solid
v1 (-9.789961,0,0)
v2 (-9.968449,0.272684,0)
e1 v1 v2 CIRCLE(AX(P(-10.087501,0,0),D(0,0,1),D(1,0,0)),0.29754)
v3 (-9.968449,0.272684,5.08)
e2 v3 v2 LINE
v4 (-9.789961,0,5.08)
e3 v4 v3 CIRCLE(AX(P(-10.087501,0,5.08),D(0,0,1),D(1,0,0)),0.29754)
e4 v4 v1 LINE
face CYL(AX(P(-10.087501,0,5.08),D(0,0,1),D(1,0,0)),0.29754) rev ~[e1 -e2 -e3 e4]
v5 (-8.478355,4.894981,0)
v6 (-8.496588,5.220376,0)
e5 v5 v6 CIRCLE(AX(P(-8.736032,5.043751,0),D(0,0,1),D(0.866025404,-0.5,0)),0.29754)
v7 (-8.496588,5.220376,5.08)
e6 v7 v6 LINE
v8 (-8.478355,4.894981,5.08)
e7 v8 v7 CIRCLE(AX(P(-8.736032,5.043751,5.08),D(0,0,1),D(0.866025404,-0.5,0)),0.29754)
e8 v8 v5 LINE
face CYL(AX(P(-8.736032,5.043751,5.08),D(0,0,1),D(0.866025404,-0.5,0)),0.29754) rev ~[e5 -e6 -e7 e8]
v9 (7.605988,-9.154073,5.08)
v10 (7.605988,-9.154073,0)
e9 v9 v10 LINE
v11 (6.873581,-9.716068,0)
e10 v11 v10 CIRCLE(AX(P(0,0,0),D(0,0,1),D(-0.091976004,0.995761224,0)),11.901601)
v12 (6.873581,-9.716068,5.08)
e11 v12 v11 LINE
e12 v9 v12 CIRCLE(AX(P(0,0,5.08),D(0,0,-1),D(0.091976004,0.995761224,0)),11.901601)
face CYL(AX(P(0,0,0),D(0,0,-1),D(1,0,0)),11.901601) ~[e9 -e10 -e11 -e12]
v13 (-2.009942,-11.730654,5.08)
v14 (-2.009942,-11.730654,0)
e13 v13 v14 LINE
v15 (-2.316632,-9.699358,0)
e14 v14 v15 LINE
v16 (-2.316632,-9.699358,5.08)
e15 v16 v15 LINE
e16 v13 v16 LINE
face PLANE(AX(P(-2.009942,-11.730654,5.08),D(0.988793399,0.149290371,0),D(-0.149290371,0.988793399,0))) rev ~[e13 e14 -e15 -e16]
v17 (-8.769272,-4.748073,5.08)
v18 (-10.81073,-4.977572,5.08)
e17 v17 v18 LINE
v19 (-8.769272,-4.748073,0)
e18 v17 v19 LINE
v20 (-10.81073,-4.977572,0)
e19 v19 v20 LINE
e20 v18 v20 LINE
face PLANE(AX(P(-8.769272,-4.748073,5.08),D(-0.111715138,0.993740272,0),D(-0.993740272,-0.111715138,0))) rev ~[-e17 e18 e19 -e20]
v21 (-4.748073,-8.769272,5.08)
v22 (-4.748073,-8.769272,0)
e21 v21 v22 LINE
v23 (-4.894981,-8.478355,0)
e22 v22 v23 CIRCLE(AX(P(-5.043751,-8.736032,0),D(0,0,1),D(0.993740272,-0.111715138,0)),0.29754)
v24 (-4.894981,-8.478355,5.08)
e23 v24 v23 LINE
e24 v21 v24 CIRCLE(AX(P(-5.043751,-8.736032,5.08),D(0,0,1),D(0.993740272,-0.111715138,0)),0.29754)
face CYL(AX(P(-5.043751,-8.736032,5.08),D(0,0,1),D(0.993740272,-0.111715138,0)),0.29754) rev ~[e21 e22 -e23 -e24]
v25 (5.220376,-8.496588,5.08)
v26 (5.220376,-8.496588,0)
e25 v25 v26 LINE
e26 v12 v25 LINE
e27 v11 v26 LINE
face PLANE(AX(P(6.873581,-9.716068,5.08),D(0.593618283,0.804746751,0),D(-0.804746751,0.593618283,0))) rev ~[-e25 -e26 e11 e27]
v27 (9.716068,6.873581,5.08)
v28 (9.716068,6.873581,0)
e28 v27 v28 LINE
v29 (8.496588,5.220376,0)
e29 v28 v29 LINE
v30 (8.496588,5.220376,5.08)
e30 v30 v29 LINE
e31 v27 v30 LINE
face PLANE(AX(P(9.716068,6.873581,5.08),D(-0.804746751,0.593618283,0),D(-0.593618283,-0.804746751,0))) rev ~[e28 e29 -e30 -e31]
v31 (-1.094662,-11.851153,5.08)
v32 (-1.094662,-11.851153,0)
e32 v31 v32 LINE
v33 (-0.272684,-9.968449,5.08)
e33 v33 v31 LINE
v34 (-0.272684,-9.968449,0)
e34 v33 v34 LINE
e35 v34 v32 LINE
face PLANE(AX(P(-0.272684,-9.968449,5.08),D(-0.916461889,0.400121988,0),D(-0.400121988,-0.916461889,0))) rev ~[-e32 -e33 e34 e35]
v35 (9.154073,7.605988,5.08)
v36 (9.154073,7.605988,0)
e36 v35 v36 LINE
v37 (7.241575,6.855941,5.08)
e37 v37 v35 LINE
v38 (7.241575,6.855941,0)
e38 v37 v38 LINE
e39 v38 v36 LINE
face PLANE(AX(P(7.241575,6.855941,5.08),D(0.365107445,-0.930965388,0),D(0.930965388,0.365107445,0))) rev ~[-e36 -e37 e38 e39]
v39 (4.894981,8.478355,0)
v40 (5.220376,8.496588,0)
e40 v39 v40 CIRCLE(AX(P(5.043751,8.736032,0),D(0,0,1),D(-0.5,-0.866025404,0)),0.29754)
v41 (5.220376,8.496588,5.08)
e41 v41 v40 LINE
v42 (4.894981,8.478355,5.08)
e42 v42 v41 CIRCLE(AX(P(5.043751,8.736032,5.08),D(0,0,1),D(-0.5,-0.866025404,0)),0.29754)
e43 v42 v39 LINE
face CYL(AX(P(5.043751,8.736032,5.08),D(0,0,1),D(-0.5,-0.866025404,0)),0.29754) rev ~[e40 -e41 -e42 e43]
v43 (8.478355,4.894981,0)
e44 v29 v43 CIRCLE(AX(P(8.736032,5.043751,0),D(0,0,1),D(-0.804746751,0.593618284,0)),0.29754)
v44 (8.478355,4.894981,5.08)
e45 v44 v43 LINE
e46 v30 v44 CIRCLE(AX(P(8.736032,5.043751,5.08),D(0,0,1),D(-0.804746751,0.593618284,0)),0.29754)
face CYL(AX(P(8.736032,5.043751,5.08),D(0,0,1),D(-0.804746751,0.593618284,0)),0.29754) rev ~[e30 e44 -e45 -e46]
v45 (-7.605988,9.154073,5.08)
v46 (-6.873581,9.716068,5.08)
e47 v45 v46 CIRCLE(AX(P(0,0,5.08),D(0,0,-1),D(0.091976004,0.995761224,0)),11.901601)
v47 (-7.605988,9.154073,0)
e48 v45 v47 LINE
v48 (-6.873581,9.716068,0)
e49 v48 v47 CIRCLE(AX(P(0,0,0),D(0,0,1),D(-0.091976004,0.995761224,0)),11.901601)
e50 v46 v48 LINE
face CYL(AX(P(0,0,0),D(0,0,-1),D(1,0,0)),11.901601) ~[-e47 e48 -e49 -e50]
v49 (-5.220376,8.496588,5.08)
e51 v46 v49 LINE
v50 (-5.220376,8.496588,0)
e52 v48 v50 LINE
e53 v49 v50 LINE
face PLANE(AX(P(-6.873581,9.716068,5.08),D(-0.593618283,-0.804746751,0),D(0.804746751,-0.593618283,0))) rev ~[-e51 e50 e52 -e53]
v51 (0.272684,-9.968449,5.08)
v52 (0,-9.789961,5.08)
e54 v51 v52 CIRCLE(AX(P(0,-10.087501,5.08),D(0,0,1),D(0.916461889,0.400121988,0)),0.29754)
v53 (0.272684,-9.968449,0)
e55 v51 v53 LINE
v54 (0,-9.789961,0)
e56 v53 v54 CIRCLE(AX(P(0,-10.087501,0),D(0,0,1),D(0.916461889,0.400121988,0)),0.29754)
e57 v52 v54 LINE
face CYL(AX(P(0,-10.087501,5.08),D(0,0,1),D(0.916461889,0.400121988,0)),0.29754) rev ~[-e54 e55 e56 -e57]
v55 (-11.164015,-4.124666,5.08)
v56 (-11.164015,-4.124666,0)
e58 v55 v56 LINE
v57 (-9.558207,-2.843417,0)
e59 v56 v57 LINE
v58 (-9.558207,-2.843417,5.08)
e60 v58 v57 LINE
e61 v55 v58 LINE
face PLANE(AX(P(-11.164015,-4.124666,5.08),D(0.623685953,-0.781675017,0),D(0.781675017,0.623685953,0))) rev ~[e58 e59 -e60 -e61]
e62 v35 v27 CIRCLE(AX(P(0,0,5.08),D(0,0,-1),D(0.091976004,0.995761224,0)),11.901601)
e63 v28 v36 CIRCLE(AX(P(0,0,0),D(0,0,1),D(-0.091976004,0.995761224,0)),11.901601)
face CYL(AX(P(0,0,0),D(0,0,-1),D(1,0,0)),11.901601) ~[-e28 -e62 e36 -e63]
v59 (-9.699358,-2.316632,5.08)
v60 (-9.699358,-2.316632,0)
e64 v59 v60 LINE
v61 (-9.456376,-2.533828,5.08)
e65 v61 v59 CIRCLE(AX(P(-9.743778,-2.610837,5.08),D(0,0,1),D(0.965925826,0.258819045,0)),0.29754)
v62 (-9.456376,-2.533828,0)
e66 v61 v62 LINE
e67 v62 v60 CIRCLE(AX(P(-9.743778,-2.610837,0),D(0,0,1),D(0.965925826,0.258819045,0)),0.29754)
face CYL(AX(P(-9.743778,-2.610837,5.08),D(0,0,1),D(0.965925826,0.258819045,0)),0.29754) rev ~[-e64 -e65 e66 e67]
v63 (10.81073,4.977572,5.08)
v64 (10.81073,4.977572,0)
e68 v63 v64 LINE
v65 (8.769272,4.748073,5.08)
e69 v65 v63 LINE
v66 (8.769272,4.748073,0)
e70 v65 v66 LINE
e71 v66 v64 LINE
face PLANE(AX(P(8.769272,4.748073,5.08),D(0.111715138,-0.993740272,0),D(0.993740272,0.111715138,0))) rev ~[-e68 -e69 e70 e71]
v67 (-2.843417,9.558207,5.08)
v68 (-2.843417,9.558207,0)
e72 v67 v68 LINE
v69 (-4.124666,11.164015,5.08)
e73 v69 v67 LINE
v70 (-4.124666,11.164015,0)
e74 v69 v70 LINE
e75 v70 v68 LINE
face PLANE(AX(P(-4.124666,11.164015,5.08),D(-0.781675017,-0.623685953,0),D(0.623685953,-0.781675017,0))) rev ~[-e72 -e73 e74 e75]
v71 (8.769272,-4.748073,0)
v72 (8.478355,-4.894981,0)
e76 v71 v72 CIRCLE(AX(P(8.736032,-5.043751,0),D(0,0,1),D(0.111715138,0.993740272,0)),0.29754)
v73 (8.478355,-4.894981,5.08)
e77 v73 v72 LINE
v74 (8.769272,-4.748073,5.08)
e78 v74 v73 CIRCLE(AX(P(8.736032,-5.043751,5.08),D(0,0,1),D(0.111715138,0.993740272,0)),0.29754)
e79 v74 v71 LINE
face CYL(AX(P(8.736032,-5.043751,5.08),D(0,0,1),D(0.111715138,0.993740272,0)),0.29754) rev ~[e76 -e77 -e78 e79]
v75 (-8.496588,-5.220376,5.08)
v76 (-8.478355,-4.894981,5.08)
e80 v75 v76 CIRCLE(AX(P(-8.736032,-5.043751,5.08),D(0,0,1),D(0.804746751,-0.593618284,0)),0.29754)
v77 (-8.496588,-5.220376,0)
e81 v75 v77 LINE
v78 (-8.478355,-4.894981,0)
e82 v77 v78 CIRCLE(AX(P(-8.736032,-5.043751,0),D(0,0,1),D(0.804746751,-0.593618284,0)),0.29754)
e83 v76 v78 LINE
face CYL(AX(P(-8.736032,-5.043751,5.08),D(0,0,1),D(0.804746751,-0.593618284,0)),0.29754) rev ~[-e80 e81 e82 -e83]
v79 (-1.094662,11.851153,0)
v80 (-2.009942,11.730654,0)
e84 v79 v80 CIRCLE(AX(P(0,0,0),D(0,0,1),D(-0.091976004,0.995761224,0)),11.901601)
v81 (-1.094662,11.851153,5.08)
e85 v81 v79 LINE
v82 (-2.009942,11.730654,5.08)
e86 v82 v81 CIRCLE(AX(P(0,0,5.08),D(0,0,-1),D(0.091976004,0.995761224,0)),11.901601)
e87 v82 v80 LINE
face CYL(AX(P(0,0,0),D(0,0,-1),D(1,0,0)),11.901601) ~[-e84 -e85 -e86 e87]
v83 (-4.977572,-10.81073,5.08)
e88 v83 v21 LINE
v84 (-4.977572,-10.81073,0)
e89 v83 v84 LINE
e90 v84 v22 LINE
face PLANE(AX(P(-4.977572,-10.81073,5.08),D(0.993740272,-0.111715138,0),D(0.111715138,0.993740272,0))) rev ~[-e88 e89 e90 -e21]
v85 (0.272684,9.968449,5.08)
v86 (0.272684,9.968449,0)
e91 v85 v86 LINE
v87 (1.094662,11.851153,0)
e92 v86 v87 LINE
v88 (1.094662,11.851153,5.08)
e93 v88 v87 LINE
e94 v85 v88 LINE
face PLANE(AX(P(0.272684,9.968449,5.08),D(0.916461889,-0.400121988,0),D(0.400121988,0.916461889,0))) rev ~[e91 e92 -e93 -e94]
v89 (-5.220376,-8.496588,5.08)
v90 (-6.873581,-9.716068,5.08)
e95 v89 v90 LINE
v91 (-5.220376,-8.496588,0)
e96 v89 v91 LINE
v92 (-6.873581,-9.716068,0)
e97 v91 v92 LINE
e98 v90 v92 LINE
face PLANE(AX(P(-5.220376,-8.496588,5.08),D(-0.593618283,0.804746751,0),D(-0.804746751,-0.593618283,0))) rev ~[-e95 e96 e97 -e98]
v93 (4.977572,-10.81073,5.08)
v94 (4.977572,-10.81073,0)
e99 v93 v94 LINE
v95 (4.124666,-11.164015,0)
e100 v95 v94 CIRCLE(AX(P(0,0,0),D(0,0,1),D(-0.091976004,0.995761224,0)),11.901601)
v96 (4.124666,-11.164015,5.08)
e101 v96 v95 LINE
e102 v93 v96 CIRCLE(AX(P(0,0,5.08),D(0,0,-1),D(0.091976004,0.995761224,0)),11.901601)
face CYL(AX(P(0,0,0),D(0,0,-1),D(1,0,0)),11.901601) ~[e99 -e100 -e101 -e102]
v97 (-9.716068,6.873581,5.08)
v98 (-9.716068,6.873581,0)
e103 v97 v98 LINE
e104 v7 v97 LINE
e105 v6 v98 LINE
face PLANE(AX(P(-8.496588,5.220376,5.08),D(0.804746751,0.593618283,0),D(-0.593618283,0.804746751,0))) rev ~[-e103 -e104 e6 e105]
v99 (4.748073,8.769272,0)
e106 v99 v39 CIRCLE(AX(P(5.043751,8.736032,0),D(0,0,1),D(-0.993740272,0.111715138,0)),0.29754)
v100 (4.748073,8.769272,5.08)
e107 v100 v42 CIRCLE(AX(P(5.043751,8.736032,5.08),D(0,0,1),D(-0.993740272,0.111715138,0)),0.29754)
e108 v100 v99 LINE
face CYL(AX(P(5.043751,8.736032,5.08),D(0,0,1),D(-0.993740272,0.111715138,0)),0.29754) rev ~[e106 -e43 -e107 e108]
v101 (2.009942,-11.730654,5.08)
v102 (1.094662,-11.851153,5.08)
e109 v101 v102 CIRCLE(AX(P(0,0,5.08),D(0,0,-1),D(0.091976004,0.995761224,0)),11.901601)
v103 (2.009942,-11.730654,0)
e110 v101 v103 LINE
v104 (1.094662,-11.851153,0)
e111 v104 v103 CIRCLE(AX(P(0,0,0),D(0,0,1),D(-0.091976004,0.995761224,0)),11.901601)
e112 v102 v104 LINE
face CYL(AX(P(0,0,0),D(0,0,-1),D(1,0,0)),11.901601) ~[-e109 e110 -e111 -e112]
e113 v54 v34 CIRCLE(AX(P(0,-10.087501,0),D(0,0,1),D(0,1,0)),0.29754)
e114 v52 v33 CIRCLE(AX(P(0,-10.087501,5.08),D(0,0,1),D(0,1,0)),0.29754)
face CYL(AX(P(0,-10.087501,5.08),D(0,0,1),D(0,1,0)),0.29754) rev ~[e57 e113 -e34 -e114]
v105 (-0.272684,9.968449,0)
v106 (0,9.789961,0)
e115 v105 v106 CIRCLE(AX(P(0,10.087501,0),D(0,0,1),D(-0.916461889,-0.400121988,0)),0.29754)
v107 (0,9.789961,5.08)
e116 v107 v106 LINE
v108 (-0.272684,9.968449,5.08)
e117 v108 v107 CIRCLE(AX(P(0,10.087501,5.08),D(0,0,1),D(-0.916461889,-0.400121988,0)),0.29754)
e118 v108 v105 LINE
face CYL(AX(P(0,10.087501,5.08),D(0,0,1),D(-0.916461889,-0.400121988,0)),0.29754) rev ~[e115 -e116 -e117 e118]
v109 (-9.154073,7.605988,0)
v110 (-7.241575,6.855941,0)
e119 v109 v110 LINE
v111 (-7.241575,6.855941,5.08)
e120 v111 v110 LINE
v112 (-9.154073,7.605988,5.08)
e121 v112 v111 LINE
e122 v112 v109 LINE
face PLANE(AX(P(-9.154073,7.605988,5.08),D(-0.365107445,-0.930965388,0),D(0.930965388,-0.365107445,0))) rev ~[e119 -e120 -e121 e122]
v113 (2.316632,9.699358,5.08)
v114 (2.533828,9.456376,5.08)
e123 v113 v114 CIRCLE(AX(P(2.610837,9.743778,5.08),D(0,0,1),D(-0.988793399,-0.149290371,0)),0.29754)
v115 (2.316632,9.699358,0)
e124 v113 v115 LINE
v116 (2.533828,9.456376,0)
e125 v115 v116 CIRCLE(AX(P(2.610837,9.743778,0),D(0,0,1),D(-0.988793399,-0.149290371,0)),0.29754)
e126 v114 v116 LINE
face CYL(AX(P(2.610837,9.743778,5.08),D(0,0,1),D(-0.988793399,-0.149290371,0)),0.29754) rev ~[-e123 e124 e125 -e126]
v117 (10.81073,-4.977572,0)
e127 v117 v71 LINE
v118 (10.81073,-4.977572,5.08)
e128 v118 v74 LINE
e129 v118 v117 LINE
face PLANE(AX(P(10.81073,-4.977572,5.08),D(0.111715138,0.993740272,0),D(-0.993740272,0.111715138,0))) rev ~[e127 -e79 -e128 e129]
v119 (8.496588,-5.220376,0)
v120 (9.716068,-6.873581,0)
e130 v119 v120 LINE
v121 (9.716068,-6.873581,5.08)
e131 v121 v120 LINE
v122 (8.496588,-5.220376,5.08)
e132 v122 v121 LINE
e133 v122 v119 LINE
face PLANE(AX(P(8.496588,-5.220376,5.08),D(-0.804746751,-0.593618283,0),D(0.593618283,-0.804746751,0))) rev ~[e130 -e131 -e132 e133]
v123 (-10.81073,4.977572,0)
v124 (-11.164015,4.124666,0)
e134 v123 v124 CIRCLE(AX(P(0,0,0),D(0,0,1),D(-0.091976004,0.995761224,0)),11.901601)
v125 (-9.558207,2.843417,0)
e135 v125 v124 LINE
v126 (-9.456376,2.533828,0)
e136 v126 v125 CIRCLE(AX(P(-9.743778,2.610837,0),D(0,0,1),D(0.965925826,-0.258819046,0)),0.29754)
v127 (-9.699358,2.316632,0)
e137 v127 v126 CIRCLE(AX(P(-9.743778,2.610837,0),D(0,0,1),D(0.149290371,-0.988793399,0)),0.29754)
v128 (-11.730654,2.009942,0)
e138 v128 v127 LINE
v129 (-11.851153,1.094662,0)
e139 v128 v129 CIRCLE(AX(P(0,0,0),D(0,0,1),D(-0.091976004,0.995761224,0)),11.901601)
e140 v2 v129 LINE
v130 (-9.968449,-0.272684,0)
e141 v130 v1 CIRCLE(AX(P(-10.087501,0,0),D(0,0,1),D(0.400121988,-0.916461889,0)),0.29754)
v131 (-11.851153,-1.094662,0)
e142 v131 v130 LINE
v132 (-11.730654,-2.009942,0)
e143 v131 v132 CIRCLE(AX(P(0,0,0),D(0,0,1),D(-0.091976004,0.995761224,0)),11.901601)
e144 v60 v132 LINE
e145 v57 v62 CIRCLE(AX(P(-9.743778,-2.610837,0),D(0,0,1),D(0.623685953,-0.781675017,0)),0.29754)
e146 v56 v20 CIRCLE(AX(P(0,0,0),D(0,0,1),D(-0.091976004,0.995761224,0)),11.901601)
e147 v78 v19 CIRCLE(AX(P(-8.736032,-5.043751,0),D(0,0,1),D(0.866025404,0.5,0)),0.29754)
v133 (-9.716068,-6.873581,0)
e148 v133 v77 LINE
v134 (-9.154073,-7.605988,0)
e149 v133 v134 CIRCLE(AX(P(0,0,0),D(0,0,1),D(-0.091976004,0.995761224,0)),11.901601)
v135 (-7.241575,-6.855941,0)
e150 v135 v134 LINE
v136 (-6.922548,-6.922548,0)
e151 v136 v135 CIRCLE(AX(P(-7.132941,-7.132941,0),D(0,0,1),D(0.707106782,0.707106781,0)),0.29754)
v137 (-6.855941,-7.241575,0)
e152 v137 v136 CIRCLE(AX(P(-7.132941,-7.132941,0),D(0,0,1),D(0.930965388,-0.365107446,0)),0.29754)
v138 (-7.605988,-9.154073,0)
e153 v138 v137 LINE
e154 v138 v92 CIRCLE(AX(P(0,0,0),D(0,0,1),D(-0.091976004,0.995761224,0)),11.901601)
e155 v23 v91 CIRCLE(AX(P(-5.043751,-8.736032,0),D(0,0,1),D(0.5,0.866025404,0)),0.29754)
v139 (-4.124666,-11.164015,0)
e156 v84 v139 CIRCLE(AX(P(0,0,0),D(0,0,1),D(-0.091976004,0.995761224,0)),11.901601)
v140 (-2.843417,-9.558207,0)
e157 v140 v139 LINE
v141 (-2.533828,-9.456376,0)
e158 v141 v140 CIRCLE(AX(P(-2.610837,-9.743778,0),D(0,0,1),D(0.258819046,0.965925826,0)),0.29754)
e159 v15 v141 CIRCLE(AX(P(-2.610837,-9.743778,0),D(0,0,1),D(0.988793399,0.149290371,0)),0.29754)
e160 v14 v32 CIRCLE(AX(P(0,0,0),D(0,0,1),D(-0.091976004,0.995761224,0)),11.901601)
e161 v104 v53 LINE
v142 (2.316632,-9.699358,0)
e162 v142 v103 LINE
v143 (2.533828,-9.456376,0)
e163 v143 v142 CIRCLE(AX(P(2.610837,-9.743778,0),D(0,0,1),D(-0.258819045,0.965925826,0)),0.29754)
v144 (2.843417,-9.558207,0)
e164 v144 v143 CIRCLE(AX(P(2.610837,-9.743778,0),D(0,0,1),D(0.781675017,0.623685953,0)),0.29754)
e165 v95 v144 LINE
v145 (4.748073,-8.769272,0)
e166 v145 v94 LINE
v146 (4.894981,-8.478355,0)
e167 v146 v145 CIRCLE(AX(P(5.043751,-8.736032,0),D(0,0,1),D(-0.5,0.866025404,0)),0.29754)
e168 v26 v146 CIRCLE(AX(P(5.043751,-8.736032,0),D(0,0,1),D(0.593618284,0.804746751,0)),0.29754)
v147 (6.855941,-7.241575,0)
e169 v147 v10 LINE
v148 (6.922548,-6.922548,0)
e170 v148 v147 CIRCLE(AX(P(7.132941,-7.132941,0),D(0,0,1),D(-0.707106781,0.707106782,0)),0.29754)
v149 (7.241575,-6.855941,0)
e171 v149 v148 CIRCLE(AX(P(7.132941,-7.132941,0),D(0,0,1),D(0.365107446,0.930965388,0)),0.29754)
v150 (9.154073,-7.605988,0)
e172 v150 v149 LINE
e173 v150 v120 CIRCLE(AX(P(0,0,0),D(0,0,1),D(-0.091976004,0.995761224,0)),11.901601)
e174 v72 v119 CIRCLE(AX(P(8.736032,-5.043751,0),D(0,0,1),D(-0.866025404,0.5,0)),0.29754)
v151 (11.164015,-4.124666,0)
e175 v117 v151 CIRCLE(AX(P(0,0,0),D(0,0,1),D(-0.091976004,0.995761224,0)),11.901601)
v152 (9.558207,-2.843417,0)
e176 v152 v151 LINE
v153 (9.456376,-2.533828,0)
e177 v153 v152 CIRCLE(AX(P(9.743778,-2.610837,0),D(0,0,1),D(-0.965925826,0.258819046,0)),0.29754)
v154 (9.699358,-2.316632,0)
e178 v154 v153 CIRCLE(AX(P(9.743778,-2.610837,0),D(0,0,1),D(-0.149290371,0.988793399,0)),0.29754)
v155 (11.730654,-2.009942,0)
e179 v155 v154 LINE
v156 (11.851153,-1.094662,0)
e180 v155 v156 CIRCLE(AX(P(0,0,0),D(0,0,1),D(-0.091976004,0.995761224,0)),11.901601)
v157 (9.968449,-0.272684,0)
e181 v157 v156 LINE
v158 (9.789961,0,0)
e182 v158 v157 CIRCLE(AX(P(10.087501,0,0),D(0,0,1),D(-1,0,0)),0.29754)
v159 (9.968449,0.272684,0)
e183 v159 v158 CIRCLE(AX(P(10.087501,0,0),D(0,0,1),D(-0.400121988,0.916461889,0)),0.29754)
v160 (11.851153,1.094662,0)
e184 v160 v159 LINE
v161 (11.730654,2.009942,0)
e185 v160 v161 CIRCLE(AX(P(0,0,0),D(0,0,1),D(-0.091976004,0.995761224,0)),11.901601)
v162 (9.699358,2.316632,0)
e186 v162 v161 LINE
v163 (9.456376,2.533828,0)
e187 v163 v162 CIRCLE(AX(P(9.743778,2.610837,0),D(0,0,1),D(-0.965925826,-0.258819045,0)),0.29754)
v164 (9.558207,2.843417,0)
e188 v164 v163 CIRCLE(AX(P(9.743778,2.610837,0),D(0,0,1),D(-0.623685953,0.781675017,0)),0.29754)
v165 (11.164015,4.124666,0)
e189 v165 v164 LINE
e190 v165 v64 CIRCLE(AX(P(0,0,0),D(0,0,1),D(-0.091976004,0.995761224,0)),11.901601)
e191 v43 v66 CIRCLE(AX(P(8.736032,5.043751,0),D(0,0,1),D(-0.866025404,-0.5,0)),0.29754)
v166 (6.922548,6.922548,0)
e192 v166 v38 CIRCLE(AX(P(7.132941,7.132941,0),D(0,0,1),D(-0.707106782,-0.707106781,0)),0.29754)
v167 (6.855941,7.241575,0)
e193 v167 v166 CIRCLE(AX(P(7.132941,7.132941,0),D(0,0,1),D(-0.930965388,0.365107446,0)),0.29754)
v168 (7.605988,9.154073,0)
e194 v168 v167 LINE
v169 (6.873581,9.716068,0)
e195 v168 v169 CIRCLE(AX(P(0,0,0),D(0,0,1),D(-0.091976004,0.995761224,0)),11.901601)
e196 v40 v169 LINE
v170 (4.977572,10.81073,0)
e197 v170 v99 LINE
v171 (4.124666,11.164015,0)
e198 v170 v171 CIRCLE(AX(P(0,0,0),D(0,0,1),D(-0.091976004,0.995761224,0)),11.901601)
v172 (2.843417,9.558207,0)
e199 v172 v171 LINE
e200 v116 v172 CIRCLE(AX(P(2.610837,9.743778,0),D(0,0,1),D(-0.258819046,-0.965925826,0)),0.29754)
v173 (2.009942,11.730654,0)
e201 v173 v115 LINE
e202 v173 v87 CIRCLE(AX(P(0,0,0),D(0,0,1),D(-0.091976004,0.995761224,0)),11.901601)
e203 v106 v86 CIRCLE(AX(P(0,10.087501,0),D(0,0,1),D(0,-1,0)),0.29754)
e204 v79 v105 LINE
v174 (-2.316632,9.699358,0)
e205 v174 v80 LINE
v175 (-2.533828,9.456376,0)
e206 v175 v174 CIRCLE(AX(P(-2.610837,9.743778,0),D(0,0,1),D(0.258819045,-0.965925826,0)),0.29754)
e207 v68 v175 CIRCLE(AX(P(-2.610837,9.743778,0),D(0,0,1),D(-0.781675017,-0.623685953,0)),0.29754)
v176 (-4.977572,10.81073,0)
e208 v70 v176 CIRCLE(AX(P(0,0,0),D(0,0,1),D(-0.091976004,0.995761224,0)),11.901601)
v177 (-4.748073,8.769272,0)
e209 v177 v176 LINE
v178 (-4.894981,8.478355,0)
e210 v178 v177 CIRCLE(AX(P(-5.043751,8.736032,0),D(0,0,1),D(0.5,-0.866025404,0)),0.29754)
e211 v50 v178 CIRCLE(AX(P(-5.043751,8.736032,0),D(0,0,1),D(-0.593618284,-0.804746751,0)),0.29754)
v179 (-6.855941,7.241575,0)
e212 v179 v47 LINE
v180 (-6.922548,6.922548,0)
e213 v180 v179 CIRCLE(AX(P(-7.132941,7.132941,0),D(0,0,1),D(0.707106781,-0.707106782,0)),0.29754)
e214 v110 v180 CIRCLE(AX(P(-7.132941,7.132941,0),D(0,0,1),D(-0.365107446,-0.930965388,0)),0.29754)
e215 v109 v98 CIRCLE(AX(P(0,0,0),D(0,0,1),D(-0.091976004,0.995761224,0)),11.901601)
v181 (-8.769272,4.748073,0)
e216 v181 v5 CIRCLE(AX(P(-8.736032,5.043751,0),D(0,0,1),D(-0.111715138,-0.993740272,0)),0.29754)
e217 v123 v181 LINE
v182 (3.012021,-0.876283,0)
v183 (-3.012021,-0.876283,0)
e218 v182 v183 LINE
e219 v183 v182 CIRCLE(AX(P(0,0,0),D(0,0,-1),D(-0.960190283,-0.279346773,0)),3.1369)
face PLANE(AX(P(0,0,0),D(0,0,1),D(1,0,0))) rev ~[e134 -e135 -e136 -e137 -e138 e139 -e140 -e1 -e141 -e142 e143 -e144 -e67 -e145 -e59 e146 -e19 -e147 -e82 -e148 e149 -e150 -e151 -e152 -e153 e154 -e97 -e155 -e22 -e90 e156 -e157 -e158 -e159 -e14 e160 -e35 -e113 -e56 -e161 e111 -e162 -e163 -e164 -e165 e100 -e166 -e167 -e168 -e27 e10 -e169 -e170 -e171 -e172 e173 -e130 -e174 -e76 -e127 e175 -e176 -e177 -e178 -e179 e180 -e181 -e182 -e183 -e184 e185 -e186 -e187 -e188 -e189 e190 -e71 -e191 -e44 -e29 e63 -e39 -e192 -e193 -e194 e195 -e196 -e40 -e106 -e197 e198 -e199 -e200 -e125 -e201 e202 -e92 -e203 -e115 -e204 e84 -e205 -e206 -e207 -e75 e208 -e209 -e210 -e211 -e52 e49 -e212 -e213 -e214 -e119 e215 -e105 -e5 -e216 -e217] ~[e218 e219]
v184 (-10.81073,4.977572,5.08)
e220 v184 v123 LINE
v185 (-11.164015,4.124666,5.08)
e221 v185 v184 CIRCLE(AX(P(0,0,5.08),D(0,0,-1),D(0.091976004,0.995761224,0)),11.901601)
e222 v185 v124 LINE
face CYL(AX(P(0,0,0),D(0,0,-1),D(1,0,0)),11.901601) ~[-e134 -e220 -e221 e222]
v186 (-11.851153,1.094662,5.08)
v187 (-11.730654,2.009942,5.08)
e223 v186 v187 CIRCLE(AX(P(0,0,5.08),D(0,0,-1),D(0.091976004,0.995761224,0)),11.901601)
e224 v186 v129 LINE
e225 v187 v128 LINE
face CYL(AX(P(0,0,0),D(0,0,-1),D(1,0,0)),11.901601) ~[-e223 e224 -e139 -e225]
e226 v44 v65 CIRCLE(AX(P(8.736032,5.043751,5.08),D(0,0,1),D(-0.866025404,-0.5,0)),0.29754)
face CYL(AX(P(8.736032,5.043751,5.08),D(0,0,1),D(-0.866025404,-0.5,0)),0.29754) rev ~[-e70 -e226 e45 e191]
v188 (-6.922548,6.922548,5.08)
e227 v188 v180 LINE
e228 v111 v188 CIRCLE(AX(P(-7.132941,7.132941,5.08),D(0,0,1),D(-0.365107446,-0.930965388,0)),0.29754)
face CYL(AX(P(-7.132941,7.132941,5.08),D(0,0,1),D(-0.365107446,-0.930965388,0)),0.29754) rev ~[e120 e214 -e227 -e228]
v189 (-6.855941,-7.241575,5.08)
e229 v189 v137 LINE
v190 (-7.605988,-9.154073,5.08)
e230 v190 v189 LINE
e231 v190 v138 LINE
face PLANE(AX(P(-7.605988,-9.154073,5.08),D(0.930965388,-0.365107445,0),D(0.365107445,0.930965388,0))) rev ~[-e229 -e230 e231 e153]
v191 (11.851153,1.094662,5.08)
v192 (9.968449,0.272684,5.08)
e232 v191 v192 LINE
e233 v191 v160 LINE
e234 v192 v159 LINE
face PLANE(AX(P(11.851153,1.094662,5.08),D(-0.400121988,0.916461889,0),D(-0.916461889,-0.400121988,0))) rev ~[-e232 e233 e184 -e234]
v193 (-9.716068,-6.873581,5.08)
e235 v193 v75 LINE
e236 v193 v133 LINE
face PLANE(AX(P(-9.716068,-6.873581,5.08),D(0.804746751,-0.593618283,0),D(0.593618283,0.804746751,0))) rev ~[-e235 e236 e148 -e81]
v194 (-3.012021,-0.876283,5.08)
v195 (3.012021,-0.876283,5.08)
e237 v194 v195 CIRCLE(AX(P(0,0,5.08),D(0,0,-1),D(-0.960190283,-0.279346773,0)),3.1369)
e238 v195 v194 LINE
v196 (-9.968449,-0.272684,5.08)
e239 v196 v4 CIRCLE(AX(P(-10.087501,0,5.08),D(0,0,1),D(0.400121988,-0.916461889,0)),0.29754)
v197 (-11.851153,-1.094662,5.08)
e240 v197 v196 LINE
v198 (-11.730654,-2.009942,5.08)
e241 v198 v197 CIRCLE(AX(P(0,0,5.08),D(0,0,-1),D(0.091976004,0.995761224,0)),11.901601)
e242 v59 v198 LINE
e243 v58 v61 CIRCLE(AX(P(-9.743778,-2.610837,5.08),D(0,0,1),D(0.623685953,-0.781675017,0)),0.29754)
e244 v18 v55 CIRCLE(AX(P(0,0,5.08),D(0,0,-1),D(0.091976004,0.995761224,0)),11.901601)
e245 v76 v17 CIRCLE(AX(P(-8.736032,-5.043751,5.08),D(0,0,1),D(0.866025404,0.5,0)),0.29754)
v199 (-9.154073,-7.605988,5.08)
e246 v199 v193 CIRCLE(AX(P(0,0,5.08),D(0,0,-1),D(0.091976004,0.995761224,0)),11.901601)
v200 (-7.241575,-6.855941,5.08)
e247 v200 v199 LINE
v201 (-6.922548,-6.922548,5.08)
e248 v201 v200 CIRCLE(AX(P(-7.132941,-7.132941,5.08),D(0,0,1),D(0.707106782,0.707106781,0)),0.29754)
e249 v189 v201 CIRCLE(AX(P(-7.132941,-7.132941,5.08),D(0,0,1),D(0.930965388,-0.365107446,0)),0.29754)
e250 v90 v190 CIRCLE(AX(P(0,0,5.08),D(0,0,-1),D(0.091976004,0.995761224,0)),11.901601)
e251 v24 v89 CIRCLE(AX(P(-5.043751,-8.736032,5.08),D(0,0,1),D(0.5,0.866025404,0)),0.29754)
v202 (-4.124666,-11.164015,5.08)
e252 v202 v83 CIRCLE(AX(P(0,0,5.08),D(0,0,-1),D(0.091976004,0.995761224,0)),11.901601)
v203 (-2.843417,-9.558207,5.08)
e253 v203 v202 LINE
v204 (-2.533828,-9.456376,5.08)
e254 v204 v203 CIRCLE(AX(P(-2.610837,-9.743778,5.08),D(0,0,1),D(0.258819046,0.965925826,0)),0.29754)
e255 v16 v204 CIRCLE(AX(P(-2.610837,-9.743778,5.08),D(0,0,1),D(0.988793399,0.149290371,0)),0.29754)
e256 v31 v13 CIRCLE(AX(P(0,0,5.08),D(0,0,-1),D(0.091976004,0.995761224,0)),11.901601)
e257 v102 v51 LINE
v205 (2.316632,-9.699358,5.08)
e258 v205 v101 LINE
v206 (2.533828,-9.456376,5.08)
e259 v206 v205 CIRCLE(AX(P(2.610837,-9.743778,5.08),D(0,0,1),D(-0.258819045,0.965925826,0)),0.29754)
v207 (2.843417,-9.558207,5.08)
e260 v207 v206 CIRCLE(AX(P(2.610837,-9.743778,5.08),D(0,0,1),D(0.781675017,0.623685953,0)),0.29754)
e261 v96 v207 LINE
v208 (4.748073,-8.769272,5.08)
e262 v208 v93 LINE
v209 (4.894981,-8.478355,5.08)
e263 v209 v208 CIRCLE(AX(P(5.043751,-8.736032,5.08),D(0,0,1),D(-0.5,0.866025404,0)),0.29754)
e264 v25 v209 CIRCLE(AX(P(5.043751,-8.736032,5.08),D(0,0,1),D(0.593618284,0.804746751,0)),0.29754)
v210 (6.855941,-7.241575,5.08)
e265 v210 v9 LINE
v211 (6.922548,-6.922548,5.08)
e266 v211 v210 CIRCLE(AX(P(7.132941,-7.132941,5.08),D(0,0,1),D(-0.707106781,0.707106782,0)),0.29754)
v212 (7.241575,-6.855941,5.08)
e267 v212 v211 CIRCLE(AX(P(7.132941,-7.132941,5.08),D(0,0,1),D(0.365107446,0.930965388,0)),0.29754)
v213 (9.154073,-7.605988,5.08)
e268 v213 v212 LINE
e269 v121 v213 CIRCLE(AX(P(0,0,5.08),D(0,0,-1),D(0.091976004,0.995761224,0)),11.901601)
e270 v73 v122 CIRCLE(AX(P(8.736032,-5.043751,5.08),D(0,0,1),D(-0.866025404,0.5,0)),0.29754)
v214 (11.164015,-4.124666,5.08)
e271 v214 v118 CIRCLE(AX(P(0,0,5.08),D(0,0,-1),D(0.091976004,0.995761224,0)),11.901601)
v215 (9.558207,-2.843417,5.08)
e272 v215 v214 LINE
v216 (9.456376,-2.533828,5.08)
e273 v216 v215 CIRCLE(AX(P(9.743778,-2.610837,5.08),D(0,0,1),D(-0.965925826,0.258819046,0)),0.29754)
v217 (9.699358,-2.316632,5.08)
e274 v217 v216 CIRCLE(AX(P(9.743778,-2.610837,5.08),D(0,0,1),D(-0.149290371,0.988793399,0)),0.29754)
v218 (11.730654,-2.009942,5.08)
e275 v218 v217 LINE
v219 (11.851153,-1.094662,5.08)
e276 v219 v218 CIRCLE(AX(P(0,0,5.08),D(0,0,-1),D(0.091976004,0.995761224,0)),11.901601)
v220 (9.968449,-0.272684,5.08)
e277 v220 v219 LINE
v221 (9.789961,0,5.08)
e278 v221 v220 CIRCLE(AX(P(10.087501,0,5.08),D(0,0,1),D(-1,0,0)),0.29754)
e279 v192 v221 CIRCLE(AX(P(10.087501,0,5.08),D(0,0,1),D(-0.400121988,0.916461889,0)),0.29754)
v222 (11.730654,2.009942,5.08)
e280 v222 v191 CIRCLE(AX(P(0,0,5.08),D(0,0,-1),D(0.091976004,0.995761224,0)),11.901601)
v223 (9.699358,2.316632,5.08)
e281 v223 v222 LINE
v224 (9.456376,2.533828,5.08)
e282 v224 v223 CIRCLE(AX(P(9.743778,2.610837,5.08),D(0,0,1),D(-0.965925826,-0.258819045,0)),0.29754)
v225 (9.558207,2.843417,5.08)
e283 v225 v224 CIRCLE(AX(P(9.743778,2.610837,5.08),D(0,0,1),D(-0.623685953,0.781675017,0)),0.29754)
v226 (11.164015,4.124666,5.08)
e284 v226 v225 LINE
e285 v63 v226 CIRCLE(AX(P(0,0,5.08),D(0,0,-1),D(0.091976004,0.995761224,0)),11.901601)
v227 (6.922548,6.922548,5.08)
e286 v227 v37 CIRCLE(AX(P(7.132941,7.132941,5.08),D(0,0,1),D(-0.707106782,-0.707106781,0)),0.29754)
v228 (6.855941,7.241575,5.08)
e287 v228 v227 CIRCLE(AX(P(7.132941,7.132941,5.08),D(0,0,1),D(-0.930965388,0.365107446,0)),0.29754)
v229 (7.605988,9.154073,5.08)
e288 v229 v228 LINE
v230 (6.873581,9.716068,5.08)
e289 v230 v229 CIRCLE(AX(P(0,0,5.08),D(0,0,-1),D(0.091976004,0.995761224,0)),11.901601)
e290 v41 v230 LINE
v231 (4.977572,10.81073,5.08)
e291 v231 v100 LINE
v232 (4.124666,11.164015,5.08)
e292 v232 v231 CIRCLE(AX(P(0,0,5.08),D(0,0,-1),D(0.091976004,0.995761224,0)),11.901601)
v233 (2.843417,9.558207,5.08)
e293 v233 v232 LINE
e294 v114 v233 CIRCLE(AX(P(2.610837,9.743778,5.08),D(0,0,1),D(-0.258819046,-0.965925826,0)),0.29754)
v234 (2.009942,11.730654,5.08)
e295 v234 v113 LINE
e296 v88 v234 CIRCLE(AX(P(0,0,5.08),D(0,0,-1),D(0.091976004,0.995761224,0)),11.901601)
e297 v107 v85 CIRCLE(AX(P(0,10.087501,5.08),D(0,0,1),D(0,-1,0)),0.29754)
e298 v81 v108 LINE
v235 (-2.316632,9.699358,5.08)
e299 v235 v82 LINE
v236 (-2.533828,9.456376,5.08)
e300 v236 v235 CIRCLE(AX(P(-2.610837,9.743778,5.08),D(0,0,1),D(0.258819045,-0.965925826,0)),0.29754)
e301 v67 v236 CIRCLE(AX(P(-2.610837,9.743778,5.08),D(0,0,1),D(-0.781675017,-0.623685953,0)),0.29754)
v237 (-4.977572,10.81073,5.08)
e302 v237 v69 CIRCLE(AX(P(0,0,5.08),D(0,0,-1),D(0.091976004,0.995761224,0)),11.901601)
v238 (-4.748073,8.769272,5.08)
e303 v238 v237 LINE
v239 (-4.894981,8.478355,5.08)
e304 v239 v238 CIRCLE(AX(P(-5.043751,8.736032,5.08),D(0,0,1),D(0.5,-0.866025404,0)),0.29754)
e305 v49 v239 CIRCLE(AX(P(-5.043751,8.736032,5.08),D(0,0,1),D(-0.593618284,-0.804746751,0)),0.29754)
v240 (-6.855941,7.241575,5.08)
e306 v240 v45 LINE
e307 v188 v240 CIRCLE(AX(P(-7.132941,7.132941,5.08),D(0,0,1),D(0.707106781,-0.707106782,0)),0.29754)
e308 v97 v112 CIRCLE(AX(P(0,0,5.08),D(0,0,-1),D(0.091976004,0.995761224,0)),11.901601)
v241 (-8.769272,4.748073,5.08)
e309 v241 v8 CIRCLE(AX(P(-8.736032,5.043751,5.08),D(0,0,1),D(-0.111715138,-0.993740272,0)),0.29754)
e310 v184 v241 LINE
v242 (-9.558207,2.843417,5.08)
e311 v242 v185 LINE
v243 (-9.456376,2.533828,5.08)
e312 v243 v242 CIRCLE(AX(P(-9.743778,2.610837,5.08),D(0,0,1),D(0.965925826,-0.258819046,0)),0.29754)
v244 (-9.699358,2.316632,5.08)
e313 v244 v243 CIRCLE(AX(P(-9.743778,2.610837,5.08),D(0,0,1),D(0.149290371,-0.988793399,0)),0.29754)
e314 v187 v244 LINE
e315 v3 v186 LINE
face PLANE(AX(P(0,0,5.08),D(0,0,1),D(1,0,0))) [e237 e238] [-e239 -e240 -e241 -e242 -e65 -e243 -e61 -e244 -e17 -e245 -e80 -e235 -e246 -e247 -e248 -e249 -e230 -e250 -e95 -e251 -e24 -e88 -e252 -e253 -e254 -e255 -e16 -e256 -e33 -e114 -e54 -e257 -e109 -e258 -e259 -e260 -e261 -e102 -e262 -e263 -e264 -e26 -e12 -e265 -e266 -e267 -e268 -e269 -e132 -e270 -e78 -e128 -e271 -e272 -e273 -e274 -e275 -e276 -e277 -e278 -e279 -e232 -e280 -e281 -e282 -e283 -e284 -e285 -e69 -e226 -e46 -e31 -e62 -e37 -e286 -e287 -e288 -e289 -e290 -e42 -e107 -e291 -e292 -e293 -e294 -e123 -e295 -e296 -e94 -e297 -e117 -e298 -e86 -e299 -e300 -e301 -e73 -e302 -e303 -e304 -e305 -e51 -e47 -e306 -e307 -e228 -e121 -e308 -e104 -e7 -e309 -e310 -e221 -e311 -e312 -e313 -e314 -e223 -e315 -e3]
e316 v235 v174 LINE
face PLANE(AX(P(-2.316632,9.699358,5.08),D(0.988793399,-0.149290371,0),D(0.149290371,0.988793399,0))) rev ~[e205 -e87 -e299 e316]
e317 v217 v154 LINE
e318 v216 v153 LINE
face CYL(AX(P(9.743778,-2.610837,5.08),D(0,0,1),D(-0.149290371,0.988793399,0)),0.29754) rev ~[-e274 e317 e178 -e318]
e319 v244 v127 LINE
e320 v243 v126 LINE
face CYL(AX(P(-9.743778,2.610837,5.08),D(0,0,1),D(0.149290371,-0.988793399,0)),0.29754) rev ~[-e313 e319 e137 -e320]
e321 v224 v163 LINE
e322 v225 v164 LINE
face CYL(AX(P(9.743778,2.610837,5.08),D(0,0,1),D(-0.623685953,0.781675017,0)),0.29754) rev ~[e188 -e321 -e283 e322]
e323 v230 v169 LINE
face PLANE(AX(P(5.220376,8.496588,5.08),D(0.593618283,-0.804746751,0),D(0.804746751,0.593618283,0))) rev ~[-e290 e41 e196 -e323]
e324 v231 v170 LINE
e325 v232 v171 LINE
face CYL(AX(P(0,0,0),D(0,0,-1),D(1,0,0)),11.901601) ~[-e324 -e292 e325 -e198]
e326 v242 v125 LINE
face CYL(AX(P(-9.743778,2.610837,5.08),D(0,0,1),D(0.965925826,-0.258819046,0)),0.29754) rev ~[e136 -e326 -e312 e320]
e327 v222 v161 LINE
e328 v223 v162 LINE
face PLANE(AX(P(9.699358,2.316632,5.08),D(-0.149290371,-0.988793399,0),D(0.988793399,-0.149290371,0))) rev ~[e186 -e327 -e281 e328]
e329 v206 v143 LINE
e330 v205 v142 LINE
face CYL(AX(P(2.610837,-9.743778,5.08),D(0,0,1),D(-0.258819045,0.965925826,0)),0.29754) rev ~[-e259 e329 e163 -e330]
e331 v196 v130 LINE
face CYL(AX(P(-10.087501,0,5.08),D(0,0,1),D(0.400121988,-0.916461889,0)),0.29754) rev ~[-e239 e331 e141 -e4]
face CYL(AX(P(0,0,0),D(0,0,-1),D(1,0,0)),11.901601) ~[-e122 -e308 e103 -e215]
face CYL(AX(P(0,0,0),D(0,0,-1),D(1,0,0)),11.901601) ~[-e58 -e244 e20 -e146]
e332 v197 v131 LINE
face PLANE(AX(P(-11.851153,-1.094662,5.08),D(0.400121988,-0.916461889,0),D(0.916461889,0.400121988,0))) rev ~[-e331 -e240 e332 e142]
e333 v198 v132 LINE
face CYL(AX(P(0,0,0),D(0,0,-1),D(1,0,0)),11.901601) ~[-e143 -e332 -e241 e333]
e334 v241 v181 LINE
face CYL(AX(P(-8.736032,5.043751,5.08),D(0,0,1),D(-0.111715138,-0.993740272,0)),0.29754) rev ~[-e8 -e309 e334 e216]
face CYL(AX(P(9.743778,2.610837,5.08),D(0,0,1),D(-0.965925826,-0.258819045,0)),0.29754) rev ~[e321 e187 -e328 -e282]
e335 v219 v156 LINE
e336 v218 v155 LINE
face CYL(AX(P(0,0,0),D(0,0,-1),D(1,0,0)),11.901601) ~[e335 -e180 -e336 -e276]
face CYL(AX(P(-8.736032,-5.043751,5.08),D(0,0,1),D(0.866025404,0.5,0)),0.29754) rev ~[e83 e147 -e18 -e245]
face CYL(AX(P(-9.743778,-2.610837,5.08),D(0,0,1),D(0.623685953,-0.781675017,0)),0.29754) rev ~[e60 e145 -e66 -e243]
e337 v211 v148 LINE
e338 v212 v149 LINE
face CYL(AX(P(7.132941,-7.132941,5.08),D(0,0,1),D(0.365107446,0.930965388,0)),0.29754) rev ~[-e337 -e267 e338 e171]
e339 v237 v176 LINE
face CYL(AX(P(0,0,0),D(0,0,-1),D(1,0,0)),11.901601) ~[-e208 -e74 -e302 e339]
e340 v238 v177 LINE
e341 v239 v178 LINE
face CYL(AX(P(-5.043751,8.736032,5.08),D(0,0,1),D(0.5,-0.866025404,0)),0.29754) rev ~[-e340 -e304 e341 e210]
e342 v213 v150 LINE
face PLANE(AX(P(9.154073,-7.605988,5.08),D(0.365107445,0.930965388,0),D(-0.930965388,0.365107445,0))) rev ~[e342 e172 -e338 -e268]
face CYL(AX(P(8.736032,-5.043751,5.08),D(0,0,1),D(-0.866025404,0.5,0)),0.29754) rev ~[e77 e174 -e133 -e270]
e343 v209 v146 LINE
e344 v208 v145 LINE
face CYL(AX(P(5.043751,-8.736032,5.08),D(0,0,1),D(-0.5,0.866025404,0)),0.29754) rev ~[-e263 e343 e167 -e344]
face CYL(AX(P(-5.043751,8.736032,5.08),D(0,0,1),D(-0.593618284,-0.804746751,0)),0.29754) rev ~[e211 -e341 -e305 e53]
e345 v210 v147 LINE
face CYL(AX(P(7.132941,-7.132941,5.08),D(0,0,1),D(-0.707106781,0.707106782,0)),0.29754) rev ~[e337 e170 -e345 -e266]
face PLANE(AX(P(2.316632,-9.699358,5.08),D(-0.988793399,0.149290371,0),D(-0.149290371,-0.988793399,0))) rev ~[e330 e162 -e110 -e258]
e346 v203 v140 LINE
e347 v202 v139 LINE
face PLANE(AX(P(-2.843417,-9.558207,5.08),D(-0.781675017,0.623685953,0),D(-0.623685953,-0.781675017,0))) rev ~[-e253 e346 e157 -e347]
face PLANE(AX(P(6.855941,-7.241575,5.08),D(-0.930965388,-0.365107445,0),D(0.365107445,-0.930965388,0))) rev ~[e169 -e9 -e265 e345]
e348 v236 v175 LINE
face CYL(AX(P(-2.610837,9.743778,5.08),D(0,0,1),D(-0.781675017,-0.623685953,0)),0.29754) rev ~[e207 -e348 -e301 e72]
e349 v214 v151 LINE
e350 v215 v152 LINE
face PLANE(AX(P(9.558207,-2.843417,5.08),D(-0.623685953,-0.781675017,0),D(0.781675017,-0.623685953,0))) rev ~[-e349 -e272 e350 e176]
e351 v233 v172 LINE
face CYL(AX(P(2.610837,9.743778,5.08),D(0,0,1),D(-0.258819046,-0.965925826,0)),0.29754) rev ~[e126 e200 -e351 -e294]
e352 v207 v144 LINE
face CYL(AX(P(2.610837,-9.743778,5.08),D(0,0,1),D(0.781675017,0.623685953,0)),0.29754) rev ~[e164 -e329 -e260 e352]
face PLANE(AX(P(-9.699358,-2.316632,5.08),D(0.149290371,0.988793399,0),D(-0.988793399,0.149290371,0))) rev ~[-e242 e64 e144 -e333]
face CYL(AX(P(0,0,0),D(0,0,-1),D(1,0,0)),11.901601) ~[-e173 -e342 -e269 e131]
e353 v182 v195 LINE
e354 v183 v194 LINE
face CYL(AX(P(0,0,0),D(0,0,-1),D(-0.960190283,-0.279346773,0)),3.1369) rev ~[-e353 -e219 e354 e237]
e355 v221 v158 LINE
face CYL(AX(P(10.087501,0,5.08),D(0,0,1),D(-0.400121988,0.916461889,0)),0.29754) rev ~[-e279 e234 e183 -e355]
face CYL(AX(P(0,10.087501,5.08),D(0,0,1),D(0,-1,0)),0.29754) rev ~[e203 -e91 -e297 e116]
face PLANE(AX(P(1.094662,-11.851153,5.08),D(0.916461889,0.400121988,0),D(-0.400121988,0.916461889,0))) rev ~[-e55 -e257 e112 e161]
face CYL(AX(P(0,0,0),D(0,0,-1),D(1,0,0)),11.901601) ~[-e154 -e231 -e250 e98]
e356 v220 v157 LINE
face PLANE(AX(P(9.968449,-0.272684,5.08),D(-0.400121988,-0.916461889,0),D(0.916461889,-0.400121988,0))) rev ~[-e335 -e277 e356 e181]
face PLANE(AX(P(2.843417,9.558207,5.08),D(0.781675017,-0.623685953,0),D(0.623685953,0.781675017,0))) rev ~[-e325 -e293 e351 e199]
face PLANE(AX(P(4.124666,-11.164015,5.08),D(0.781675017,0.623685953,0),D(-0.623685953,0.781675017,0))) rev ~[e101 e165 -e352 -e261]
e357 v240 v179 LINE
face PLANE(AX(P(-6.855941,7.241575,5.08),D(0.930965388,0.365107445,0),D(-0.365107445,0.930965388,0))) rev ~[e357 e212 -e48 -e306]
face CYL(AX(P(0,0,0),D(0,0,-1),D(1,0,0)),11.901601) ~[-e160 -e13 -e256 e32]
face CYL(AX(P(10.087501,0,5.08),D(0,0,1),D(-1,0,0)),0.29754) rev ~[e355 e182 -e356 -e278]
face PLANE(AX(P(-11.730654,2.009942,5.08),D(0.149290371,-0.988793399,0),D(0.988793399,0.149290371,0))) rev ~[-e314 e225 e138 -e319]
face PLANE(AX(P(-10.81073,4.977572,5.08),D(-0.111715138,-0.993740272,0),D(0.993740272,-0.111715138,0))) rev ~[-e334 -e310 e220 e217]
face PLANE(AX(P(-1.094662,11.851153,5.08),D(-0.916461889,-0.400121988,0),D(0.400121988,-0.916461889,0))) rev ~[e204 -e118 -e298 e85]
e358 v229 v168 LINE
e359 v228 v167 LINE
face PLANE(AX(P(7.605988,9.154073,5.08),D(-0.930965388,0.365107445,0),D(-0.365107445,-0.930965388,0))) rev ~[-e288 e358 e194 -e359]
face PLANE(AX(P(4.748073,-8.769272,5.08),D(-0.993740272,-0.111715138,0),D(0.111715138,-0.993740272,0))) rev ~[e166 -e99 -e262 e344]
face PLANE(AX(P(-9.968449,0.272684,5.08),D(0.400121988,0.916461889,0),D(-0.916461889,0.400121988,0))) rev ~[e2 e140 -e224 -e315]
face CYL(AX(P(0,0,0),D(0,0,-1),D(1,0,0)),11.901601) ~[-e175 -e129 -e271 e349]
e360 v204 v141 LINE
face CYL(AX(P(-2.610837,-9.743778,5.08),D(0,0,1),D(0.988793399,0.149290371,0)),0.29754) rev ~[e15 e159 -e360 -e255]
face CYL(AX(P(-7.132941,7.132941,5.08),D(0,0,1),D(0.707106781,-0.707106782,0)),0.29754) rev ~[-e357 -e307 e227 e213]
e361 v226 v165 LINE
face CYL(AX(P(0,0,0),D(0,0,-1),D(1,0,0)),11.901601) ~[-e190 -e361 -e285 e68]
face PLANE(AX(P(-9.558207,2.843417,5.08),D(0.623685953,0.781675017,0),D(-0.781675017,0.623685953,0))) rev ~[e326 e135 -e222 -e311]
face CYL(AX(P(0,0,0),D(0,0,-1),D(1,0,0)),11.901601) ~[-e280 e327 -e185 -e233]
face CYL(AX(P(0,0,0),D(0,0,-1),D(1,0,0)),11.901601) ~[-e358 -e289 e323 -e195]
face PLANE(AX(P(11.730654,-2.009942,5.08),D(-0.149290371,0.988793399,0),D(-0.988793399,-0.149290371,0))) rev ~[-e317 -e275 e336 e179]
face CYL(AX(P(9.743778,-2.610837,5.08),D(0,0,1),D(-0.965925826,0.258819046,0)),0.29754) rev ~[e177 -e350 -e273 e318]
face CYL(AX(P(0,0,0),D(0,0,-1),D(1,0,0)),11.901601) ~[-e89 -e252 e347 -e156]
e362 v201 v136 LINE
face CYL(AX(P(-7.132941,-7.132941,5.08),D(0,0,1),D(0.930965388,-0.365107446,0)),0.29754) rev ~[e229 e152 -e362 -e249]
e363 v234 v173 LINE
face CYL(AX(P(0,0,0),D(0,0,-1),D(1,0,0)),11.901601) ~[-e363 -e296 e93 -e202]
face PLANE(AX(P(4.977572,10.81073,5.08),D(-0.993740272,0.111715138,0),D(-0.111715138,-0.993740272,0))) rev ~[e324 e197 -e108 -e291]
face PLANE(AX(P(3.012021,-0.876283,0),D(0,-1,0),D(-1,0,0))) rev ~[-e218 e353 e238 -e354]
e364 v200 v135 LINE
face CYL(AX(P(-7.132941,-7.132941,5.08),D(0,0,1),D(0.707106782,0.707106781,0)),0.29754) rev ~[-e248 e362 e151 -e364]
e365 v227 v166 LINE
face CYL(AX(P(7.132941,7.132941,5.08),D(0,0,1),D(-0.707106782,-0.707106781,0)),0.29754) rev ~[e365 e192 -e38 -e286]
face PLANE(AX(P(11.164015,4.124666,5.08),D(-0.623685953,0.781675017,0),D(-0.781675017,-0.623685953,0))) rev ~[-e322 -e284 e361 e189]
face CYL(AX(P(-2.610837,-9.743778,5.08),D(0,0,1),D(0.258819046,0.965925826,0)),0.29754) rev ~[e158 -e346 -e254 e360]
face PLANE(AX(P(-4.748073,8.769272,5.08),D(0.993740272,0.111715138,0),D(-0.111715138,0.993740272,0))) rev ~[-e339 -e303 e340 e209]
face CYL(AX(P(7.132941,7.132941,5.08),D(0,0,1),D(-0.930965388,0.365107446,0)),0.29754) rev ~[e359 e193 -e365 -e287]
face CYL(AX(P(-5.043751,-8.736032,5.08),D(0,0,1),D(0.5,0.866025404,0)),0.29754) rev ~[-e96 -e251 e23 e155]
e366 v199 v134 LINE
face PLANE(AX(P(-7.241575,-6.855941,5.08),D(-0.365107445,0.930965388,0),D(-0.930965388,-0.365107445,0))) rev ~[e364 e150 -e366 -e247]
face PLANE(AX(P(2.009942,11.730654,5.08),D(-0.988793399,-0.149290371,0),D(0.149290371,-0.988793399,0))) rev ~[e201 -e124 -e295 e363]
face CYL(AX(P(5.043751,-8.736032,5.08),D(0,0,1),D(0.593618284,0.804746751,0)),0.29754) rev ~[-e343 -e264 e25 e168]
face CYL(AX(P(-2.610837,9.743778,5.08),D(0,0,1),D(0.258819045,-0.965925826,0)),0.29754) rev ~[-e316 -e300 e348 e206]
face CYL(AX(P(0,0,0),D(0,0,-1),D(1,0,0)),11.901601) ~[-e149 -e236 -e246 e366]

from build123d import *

# Parameters (mm, degrees)
F0_R     = 11.9016009371
F1_DEPTH = 5.08
F3_DEPTH = 5.08
F4_COUNT = 24
F4_ANGLE = 345


with BuildPart() as f1:
    # F0 (on Top) → F1 (new body)
    with BuildSketch(Plane.XY):
        Circle(F0_R)
        with BuildLine():
            ThreePointArc((-3.0120209, -0.8762828927), (0, 3.1369), (3.0120209, -0.8762828927))
            Line((3.0120209, -0.8762828927), (-3.0120209, -0.8762828927))
        make_face(mode=Mode.SUBTRACT)
    extrude(amount=F1_DEPTH)

    # F2 (on face) → F3 (cut, through all)
    with BuildSketch(Plane.XY.offset(5.08)):
        with BuildLine():
            ThreePointArc((-0.272684092, 9.968449005), (-0.1629528148, 9.8385506215), (0, 9.7899612874))
            Line((0, 9.7899612874), (0, 11.9016009371))
            ThreePointArc((0, 11.9016009371), (-0.5479117768, 11.8889821916), (-1.0946616999, 11.8511527131))
            Line((-1.0946616999, 11.8511527131), (-0.272684092, 9.968449005))
        make_face()
        with BuildLine():
            Line((0, 11.9016009371), (0, 9.7899612874))
            ThreePointArc((0, 9.7899612874), (0.1629528148, 9.8385506215), (0.272684092, 9.968449005))
            Line((0.272684092, 9.968449005), (1.0946616999, 11.8511527131))
            ThreePointArc((1.0946616999, 11.8511527131), (0.5479117768, 11.8889821916), (0, 11.9016009371))
        make_face()
    f3 = extrude(amount=-F3_DEPTH, mode=Mode.SUBTRACT)

    # F4: F3 ×24 about axis
    f4_axis = Axis((0, 0, 0), (0, 0, -1))
    for i in range(1, F4_COUNT):
        add(f3.rotate(f4_axis, i * F4_ANGLE / (F4_COUNT - 1)), mode=Mode.SUBTRACT)


solid = f1.part
